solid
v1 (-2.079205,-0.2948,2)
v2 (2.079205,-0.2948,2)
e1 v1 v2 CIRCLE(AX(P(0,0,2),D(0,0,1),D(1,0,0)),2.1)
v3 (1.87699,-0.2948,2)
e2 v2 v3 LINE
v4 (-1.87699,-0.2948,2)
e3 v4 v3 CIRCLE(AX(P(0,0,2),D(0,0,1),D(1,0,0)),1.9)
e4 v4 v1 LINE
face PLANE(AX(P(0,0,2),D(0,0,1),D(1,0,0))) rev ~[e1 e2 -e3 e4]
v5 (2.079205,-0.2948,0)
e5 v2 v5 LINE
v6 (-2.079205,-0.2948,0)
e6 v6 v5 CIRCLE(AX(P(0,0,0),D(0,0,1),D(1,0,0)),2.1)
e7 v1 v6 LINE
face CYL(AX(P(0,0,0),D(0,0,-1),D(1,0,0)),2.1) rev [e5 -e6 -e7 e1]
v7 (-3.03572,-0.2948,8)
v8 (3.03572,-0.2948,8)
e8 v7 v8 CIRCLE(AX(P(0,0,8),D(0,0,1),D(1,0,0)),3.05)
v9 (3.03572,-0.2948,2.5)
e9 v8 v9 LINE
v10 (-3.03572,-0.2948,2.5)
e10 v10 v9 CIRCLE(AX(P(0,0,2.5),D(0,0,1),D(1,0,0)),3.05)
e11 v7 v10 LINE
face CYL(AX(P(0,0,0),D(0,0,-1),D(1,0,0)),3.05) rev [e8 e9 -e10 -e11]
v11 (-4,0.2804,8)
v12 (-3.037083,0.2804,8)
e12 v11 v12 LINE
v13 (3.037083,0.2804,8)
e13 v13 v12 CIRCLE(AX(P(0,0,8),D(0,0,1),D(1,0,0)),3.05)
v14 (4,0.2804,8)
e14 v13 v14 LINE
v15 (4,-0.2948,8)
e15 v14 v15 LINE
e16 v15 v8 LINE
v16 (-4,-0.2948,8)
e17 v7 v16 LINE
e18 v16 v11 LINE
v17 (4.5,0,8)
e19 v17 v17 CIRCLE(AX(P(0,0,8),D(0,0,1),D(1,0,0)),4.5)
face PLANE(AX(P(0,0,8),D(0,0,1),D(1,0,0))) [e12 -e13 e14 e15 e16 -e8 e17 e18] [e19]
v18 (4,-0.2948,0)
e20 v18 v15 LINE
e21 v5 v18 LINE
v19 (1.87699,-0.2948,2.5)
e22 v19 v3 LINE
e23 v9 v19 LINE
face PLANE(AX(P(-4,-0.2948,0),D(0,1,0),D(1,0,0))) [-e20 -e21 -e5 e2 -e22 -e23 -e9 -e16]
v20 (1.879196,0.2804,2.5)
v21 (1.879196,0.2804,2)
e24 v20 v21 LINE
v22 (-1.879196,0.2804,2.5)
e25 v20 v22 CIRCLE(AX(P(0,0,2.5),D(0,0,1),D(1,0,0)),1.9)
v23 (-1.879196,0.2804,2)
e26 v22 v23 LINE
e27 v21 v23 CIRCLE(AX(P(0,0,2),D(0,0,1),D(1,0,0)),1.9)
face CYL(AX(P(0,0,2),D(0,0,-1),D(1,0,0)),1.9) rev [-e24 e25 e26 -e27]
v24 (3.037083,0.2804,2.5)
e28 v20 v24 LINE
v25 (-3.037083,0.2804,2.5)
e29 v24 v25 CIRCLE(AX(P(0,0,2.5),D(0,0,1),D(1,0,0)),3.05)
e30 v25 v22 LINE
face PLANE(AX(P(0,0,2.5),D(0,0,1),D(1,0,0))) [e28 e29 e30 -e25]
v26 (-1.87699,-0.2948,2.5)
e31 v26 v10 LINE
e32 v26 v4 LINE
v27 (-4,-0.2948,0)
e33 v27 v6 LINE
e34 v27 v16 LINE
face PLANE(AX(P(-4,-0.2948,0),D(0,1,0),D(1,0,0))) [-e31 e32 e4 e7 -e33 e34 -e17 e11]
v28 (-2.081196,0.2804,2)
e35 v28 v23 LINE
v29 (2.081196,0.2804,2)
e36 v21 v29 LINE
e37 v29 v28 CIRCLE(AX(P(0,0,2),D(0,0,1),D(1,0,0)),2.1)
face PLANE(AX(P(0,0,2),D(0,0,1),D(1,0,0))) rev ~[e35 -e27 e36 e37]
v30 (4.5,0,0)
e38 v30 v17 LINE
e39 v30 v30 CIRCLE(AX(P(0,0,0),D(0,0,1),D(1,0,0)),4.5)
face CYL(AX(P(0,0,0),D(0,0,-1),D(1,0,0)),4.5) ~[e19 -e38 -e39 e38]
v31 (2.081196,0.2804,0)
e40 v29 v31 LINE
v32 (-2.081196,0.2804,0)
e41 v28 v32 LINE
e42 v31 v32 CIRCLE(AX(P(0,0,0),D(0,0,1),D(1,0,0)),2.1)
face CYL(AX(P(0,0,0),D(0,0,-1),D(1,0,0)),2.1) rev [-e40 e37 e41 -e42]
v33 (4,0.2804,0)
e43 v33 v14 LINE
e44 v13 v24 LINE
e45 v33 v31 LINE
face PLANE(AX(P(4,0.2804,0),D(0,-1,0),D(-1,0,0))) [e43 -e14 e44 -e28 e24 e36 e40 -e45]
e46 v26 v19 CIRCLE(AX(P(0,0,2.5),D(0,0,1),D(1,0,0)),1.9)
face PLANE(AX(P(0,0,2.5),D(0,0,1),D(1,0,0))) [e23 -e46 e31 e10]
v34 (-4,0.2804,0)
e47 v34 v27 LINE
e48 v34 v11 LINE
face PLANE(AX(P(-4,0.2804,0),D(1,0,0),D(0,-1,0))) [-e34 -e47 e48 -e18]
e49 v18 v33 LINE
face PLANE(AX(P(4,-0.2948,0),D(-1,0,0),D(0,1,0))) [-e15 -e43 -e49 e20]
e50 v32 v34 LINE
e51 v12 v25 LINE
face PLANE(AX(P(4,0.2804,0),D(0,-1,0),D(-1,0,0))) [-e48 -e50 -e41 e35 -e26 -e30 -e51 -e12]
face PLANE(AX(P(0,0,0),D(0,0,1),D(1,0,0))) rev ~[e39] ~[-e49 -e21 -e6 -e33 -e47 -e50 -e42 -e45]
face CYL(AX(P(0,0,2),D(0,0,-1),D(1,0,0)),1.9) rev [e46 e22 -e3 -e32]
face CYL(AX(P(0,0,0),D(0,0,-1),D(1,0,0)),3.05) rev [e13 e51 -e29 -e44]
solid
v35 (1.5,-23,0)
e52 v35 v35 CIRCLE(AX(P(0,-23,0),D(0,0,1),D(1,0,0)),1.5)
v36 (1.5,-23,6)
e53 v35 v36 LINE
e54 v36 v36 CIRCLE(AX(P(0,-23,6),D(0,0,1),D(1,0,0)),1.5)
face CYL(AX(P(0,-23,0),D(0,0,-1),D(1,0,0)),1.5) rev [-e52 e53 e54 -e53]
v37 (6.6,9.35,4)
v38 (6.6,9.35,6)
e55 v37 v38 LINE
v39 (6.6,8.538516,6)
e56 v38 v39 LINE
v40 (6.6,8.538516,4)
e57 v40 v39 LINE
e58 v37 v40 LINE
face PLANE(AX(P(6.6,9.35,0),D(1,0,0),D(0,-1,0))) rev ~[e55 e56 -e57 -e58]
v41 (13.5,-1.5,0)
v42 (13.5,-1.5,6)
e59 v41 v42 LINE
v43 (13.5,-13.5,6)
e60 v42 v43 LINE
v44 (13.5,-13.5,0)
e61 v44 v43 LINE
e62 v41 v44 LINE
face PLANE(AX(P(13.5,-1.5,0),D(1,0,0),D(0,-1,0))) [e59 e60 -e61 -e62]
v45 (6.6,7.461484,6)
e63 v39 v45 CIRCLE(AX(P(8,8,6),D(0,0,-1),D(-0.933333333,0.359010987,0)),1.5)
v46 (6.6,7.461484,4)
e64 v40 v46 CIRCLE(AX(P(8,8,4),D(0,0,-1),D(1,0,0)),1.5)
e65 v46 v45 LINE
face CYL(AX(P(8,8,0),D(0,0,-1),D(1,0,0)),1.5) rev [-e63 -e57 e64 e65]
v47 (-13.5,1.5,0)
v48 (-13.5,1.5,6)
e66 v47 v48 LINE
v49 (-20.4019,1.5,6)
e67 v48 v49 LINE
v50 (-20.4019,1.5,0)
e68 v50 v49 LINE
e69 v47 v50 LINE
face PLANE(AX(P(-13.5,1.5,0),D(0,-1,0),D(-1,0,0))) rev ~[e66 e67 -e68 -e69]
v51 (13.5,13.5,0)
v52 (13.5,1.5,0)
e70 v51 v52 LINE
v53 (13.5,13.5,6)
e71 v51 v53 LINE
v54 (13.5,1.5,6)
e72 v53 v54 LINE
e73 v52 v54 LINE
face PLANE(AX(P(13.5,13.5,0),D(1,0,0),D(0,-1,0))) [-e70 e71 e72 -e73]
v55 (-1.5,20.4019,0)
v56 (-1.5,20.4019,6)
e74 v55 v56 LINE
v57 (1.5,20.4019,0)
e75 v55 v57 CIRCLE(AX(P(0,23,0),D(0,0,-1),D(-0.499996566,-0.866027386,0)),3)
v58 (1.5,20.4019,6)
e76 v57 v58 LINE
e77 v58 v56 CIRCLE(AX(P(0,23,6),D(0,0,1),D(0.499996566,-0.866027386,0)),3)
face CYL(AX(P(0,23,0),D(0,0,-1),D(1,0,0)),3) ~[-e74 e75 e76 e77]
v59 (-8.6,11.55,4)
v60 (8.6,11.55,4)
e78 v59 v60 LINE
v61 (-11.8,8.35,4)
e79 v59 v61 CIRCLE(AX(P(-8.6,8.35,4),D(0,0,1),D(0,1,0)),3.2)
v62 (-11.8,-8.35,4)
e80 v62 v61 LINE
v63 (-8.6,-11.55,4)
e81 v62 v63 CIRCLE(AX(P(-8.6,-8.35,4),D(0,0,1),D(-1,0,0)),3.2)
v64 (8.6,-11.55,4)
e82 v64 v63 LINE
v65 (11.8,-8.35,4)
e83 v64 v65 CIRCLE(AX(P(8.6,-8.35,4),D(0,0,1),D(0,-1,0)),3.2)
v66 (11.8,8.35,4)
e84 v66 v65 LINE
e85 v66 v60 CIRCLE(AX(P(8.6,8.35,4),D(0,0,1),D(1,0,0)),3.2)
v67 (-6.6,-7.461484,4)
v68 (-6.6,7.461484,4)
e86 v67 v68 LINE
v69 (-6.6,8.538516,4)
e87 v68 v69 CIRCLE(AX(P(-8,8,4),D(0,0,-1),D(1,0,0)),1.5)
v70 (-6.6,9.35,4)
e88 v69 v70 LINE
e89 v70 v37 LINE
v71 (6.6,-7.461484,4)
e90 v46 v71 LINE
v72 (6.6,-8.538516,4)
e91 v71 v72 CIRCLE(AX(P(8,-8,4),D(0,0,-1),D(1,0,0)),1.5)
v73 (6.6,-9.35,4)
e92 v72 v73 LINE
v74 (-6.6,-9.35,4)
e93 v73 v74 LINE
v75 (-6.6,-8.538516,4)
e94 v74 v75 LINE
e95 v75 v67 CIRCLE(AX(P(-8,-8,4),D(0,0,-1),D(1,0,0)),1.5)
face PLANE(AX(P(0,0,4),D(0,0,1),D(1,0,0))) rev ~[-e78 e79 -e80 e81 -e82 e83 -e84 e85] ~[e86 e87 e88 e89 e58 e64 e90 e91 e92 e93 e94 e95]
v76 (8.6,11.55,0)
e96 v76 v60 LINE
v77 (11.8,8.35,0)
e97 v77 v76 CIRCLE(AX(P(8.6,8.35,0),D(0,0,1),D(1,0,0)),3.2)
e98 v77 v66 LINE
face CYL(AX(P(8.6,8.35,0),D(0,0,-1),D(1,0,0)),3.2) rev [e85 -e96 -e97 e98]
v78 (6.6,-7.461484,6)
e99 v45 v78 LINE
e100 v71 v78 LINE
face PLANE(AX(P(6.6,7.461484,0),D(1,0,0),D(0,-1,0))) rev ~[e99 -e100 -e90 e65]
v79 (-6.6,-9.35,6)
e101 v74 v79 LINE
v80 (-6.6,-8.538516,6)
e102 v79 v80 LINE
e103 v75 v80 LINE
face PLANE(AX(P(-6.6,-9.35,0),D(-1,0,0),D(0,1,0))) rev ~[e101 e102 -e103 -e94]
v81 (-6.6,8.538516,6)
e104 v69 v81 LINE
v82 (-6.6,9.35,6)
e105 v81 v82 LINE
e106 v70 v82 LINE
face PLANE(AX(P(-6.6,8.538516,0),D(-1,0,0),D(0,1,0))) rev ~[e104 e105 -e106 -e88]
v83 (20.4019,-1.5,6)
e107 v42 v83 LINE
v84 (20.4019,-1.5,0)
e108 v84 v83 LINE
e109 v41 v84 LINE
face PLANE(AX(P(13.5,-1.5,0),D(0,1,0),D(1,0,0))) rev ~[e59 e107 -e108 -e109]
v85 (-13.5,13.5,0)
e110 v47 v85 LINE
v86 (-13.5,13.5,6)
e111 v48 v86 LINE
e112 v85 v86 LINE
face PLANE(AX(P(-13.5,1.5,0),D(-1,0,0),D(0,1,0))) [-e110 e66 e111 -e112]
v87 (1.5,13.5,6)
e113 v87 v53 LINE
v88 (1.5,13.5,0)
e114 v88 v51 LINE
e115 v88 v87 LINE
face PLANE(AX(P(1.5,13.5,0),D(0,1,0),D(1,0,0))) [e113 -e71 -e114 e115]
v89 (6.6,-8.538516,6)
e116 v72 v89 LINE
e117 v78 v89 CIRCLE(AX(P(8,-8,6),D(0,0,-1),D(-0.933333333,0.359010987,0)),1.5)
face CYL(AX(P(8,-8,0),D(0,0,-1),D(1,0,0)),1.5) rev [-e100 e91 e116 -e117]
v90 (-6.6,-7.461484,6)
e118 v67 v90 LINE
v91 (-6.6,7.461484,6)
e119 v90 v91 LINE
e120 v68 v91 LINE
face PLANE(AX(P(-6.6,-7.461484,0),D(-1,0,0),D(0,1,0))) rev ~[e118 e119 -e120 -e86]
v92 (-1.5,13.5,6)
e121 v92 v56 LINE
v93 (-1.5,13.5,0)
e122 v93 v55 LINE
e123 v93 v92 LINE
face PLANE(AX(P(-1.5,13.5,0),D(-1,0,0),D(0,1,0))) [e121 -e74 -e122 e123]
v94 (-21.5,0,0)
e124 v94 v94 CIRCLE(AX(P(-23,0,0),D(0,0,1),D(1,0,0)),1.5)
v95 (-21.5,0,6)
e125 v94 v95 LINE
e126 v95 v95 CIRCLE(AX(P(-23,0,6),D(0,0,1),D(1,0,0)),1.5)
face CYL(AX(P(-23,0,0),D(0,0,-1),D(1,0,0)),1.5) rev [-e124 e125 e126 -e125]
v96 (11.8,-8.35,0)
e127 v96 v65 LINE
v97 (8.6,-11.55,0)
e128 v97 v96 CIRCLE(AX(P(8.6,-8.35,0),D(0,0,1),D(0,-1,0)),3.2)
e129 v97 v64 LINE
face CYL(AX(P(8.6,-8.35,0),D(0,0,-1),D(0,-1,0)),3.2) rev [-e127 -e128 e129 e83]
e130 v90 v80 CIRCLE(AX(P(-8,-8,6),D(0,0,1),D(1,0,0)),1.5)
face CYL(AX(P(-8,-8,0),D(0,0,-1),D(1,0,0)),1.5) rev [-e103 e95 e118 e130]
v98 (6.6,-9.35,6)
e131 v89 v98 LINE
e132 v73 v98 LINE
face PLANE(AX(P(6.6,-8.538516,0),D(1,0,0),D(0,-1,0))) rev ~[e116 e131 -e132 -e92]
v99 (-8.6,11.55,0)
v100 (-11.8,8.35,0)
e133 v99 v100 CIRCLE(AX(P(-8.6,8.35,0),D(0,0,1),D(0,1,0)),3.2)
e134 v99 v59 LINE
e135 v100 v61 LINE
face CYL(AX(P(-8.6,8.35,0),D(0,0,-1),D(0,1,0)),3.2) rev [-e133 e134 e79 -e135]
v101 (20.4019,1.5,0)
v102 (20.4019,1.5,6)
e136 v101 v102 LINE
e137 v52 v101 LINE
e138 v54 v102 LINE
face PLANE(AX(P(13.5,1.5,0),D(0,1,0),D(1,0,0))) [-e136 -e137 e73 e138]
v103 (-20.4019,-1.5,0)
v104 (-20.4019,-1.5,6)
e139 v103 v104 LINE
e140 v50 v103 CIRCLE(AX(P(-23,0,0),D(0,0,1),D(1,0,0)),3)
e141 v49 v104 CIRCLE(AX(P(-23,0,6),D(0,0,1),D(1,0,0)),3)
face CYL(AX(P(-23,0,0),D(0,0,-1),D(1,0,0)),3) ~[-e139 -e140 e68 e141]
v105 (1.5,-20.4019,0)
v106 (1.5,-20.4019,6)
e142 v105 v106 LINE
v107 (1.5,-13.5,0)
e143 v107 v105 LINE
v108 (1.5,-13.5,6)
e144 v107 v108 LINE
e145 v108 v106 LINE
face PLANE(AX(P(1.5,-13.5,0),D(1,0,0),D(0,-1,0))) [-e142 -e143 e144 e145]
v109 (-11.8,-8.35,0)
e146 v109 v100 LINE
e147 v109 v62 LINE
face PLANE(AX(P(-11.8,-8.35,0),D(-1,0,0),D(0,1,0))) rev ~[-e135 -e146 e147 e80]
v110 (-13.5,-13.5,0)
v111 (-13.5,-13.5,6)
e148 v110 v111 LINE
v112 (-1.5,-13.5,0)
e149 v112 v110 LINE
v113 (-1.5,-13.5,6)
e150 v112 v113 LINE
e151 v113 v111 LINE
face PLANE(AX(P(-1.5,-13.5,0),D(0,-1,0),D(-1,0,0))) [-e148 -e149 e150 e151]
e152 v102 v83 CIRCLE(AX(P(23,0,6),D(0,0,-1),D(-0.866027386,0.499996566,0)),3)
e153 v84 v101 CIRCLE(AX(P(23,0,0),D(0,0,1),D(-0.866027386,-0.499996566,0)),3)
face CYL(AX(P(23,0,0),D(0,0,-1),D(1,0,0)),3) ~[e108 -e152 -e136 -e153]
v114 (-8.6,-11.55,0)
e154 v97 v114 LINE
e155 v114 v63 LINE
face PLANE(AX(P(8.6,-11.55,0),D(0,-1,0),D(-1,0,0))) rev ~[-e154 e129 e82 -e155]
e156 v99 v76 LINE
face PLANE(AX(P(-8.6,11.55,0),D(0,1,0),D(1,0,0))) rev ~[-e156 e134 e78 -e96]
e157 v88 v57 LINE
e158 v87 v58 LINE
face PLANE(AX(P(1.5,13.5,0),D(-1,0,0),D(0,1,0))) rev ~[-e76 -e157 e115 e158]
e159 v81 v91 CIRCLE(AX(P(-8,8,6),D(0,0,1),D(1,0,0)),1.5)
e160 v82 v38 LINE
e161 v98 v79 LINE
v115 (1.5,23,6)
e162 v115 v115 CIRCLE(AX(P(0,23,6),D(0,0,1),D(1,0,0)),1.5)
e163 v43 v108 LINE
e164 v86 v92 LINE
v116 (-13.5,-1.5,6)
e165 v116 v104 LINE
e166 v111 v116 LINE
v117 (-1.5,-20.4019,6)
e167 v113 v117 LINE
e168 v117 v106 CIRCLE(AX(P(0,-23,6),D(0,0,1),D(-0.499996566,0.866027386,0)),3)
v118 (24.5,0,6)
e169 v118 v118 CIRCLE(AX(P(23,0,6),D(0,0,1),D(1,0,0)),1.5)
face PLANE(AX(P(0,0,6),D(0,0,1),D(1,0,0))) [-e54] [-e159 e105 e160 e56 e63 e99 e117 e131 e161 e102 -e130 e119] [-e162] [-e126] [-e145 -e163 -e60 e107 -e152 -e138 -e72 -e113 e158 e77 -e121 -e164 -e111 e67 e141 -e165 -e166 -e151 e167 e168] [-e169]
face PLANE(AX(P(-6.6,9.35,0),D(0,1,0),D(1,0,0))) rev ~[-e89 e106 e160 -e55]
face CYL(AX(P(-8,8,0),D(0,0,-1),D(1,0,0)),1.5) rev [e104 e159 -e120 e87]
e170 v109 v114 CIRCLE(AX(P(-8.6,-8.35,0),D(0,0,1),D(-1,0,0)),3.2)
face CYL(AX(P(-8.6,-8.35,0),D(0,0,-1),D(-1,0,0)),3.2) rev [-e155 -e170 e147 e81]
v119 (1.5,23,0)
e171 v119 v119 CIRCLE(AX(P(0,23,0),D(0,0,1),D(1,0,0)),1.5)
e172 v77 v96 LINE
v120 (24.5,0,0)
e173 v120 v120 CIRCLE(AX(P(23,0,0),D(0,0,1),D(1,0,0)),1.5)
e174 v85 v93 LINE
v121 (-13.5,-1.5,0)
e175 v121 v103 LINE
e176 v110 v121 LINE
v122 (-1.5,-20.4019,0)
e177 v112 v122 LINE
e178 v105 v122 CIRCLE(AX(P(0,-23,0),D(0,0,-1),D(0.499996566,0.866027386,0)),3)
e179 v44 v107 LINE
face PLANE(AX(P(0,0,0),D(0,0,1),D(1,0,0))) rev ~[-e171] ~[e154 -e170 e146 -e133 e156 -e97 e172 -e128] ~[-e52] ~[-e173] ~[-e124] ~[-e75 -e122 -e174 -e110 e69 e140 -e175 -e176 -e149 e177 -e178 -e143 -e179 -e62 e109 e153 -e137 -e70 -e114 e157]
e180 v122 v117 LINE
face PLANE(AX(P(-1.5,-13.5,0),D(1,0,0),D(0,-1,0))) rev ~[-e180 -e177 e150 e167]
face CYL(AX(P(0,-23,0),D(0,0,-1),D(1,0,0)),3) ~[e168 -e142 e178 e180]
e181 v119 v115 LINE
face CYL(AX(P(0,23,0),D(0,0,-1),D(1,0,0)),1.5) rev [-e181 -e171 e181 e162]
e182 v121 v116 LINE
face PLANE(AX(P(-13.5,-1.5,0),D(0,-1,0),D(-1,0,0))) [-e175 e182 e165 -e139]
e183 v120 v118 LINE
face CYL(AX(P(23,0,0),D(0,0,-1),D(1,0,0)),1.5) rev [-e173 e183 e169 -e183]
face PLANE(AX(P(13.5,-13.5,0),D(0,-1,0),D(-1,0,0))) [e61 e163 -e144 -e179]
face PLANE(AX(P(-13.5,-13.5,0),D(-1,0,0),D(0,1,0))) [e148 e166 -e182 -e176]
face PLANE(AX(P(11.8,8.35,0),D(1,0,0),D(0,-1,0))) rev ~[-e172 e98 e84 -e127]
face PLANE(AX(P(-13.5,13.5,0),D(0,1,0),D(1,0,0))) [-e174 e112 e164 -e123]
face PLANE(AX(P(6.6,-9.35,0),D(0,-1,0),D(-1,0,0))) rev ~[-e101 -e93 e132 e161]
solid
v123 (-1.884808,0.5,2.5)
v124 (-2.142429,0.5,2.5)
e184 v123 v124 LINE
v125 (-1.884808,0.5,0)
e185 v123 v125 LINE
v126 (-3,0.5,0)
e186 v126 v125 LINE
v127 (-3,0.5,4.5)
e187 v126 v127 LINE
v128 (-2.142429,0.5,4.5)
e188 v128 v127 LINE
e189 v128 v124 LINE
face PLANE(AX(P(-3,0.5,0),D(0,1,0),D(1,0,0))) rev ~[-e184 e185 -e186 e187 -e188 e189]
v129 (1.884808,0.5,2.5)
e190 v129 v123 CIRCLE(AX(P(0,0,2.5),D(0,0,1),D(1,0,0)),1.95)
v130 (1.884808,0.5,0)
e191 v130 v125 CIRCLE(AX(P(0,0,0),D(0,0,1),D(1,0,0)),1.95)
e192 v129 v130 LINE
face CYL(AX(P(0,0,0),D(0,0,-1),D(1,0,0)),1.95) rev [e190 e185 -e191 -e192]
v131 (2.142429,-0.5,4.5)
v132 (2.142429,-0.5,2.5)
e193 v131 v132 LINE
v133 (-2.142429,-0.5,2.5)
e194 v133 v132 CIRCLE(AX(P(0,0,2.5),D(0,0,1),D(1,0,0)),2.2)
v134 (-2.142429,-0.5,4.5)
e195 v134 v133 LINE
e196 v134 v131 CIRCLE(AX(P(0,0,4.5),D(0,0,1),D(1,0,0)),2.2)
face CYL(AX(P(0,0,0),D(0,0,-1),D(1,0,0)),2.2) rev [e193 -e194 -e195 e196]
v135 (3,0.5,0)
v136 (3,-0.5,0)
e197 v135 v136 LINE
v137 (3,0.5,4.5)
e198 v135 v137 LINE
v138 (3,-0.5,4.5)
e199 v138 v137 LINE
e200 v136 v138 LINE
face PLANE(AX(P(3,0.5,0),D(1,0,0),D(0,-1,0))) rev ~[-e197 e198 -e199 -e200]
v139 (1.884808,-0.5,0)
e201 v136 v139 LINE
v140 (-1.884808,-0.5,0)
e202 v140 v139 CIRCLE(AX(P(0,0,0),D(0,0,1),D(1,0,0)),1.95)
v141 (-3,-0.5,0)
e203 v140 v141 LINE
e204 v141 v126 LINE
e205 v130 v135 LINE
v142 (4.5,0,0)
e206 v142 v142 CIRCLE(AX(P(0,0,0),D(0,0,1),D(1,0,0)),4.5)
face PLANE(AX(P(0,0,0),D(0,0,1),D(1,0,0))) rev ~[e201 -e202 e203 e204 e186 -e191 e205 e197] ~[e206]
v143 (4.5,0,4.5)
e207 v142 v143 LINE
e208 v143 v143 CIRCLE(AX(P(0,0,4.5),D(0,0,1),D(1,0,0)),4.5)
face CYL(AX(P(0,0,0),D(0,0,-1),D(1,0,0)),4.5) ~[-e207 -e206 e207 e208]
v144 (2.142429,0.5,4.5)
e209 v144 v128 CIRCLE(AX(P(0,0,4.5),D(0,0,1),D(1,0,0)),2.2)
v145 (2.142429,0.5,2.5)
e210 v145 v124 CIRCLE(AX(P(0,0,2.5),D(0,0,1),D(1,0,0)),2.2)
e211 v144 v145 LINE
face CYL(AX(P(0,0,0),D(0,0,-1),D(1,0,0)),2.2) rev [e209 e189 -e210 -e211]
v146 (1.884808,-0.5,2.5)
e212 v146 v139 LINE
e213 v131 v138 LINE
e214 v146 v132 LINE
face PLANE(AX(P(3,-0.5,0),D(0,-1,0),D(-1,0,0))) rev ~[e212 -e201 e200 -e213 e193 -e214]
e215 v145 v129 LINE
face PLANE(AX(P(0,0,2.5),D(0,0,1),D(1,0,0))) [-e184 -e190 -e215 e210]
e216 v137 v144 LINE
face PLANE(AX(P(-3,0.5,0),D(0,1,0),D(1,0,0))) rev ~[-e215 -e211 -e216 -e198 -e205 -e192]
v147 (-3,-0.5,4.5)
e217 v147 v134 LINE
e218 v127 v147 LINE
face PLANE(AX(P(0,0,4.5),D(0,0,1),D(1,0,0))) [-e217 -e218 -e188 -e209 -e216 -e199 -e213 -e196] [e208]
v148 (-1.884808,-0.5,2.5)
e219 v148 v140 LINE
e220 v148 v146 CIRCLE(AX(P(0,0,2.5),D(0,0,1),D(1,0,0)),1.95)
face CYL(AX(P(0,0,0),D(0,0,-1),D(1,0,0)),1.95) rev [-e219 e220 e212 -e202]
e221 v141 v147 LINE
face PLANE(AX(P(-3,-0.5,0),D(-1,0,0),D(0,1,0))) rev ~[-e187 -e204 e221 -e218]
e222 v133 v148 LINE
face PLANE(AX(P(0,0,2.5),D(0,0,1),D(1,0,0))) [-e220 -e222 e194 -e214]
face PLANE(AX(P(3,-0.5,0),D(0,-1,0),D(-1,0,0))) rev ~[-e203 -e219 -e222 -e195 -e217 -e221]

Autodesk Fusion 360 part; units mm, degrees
sketch "AS5600" plane through (0, 0, 0) normal (0, 0, 1) x (1, 0, 0)
  line L0 (-8.6, 11.35) -> (8.6, 11.35)
  line L1 (11.6, 8.35) -> (11.6, -8.35)
  line L2 (8.6, -11.35) -> (-8.6, -11.35)
  line L3 (-11.6, -8.35) -> (-11.6, 8.35)
  line L4 (-8, 8) -> (8, 8) construction
  line L5 (8, 8) -> (8, -8) construction
  line L6 (8, -8) -> (-8, -8) construction
  line L7 (-8, -8) -> (-8, 8) construction
  circle A0 centre (-8, 8) radius 1.5
  circle A1 centre (8, 8) radius 1.5
  circle A2 centre (-8, -8) radius 1.5
  circle A3 centre (8, -8) radius 1.5
  arc A4 (-8.6, 11.35) -> (-11.6, 8.35) centre (-8.6, 8.35) ccw
  arc A5 (11.6, 8.35) -> (8.6, 11.35) centre (8.6, 8.35) ccw
  arc A6 (-11.6, -8.35) -> (-8.6, -11.35) centre (-8.6, -8.35) ccw
  arc A7 (8.6, -11.35) -> (11.6, -8.35) centre (8.6, -8.35) ccw
  point P0 (11.6, 11.35)
  point P1 (11.6, -11.35)
  dimension "d6" = 23.2
  dimension "d7" = 22.7
  dimension "d8" = 11.35
  dimension "d10" = 8
  dimension "d11" = 8
  dimension "d12" = 8
  dimension "d13" = 8
  dimension "d14" = 3
  dimension "d15" = 3
  dimension "d16" = 3
  dimension "d17" = 3
  dimension "d18" = 3
  dimension "d19" = 3
  dimension "d20" = 3
  dimension "d21" = 3
  dimension "d22" = 11.6
sketch "Sketch3" plane through (0, 0, 0) normal (0, 0, 1) x (1, 0, 0)
  circle A0 centre (0, 0) radius 23 construction
  circle A1 centre (23, 0) radius 1.5
  line L0 (0, 0) -> (23, 0) construction
  circle A2 centre (23, 0) radius 3
  line L1 (-13.5, 13.5) -> (13.5, 13.5)
  line L2 (13.5, 13.5) -> (13.5, -13.5)
  line L3 (13.5, -13.5) -> (-13.5, -13.5)
  line L4 (-13.5, -13.5) -> (-13.5, 13.5)
  line L5 (-6.6, 9.35) -> (6.6, 9.35)
  line L6 (6.6, 9.35) -> (6.6, -9.35)
  line L7 (6.6, -9.35) -> (-6.6, -9.35)
  line L8 (-6.6, -9.35) -> (-6.6, 9.35)
  line L9 (-11.6, -8.35) -> (-11.6, 8.35)
  line L10 (11.6, 8.35) -> (11.6, -8.35)
  line L11 (8.6, -11.35) -> (-8.6, -11.35)
  line L12 (-8.6, 11.35) -> (8.6, 11.35)
  line L13 (13.5, 1.5) -> (20.4019, 1.5)
  line L14 (13.5, -1.5) -> (20.4019, -1.5)
  circle A3 centre (0, 23) radius 3
  circle A4 centre (0, 23) radius 1.5
  line L15 (1.5, 13.5) -> (1.5, 20.4019)
  line L16 (-1.5, 13.5) -> (-1.5, 20.4019)
  circle A5 centre (-23, 0) radius 3
  circle A6 centre (-23, 0) radius 1.5
  line L17 (-13.5, 1.5) -> (-20.4019, 1.5)
  line L18 (-13.5, -1.5) -> (-20.4019, -1.5)
  circle A7 centre (0, -23) radius 3
  circle A8 centre (0, -23) radius 1.5
  line L19 (-1.5, -13.5) -> (-1.5, -20.4019)
  line L20 (1.5, -13.5) -> (1.5, -20.4019)
  circle A9 centre (8, 8) radius 1.5
  circle A10 centre (-8, 8) radius 1.5
  circle A11 centre (-8, -8) radius 1.5
  circle A12 centre (8, -8) radius 1.5
  dimension "d23" = 46
  dimension "d24" = 3
  dimension "d25" = 6
  dimension "d26" = 13.5
  dimension "d27" = 13.5
  dimension "d28" = 13.5
  dimension "d29" = 13.5
  dimension "d30" = 5
  dimension "d31" = 5
  dimension "d32" = 2
  dimension "d33" = 2
  dimension "d34" = 1.5
  dimension "d35" = 1.5
  dimension "d37" = 360
extrude "Extrude2" add sketch "Sketch3" along normal blind 6 makes body 1
sketch "Sketch4" plane through (0, 0, 0) normal (0, 0, 1) x (1, 0, 0)
  line L0 (-8.6, 11.35) -> (8.6, 11.35)
  line L1 (-11.6, -8.35) -> (-11.6, 8.35)
  arc A0 (-8.6, 11.35) -> (-11.6, 8.35) centre (-8.6, 8.35) ccw
  arc A1 (-11.6, -8.35) -> (-8.6, -11.35) centre (-8.6, -8.35) ccw
  line L2 (8.6, -11.35) -> (-8.6, -11.35)
  arc A2 (8.6, -11.35) -> (11.6, -8.35) centre (8.6, -8.35) ccw
  line L3 (11.6, 8.35) -> (11.6, -8.35)
  arc A3 (11.6, 8.35) -> (8.6, 11.35) centre (8.6, 8.35) ccw
  arc A4 (8.6, -11.55) -> (11.8, -8.35) centre (8.6, -8.35) ccw
  line L4 (11.8, 8.35) -> (11.8, -8.35)
  arc A5 (11.8, 8.35) -> (8.6, 11.55) centre (8.6, 8.35) ccw
  line L5 (-8.6, 11.55) -> (8.6, 11.55)
  arc A6 (-8.6, 11.55) -> (-11.8, 8.35) centre (-8.6, 8.35) ccw
  line L6 (-11.8, -8.35) -> (-11.8, 8.35)
  arc A7 (-11.8, -8.35) -> (-8.6, -11.55) centre (-8.6, -8.35) ccw
  line L7 (8.6, -11.55) -> (-8.6, -11.55)
  dimension "d42" = -0.2
extrude "Extrude3" cut sketch "Sketch4" along normal blind 4 contours L0 L1 A0 A1 L2 A2 L3 A3 | A4 L4 A5 L5 A6 L6 A7 L7 bodies 1
sketch "Sketch1" plane through (0, 0, 0) normal (0, 0, 1) x (1, 0, 0) in component "MagnetHolder1"
  circle A0 centre (0, 0) radius 2.2
  circle A1 centre (0, 0) radius 4.5
  circle A2 centre (0, 0) radius 1.95
  dimension "d45" = 4.4
  dimension "d46" = 9
  dimension "d47" = 3.9
extrude "Extrude1" add sketch "Sketch1" along normal blind 4.5 separate body contours A1 makes body 2 in component "MagnetHolder1"
extrude "Extrude2'" add sketch "Sketch1" along normal blind 2.5 contours A0 bodies 2 in component "MagnetHolder1"
sketch "Sketch2" plane through (0, 0, 0) normal (0, 0, 1) x (1, 0, 0) in component "MagnetHolder1"
  line L0 (-3, 0.5) -> (3, 0.5)
  line L1 (3, 0.5) -> (3, -0.5)
  line L2 (3, -0.5) -> (-3, -0.5)
  line L3 (-3, -0.5) -> (-3, 0.5)
  dimension "d52" = 3
  dimension "d53" = 3
  dimension "d54" = 0.5
  dimension "d55" = 0.5
extrude "Extrude3'" cut sketch "Sketch2" along normal blind 7.5 bodies 2 in component "MagnetHolder1"
sketch "Sketch1 (2)" plane through (0, 0, 0) normal (0, 0, 1) x (1, 0, 0) in component "MagnetHolder2"
  circle A0 centre (0, 0) radius 3.05
  circle A1 centre (0, 0) radius 2.1
  circle A2 centre (0, 0) radius 4.5
  circle A3 centre (0, 0) radius 1.9
  dimension "d58" = 6.1
  dimension "d59" = 4.2
  dimension "d60" = 9
  dimension "d65" = 3.8
extrude "Extrude1'" add sketch "Sketch1 (2)" along normal blind 8 separate body contours A2 makes body 3 in component "MagnetHolder2"
extrude "Extrude2''" add sketch "Sketch1 (2)" along normal blind 2.5 contours A0 bodies 3 in component "MagnetHolder2"
extrude "Extrude3''" add sketch "Sketch1 (2)" along normal blind 2.5 and the other way blind -2 contours A1 bodies 3 in component "MagnetHolder2"
sketch "Sketch2 (2)" plane through (0, 0, 0) normal (0, 0, 1) x (1, 0, 0) in component "MagnetHolder2"
  line L0 (4, 0.2804) -> (-4, 0.2804)
  line L1 (-4, 0.2804) -> (-4, -0.2948)
  line L2 (-4, -0.2948) -> (4, -0.2948)
  line L3 (4, -0.2948) -> (4, 0.2804)
  dimension "d70" = 4
  dimension "d71" = 4
extrude "Extrude4" cut sketch "Sketch2 (2)" along normal blind 9.5 bodies 3 in component "MagnetHolder2"
component "MagnetHolder1" placed x (1, 0, 0) y (0, 1, 0) z (0, 0, 1) at (0, 0, 0)
component "MagnetHolder2" placed x (1, 0, 0) y (0, 1, 0) z (0, 0, 1) at (0, 0, 0)
equation "d8 = ( 22.7 / 2 ) * 1 mm"
